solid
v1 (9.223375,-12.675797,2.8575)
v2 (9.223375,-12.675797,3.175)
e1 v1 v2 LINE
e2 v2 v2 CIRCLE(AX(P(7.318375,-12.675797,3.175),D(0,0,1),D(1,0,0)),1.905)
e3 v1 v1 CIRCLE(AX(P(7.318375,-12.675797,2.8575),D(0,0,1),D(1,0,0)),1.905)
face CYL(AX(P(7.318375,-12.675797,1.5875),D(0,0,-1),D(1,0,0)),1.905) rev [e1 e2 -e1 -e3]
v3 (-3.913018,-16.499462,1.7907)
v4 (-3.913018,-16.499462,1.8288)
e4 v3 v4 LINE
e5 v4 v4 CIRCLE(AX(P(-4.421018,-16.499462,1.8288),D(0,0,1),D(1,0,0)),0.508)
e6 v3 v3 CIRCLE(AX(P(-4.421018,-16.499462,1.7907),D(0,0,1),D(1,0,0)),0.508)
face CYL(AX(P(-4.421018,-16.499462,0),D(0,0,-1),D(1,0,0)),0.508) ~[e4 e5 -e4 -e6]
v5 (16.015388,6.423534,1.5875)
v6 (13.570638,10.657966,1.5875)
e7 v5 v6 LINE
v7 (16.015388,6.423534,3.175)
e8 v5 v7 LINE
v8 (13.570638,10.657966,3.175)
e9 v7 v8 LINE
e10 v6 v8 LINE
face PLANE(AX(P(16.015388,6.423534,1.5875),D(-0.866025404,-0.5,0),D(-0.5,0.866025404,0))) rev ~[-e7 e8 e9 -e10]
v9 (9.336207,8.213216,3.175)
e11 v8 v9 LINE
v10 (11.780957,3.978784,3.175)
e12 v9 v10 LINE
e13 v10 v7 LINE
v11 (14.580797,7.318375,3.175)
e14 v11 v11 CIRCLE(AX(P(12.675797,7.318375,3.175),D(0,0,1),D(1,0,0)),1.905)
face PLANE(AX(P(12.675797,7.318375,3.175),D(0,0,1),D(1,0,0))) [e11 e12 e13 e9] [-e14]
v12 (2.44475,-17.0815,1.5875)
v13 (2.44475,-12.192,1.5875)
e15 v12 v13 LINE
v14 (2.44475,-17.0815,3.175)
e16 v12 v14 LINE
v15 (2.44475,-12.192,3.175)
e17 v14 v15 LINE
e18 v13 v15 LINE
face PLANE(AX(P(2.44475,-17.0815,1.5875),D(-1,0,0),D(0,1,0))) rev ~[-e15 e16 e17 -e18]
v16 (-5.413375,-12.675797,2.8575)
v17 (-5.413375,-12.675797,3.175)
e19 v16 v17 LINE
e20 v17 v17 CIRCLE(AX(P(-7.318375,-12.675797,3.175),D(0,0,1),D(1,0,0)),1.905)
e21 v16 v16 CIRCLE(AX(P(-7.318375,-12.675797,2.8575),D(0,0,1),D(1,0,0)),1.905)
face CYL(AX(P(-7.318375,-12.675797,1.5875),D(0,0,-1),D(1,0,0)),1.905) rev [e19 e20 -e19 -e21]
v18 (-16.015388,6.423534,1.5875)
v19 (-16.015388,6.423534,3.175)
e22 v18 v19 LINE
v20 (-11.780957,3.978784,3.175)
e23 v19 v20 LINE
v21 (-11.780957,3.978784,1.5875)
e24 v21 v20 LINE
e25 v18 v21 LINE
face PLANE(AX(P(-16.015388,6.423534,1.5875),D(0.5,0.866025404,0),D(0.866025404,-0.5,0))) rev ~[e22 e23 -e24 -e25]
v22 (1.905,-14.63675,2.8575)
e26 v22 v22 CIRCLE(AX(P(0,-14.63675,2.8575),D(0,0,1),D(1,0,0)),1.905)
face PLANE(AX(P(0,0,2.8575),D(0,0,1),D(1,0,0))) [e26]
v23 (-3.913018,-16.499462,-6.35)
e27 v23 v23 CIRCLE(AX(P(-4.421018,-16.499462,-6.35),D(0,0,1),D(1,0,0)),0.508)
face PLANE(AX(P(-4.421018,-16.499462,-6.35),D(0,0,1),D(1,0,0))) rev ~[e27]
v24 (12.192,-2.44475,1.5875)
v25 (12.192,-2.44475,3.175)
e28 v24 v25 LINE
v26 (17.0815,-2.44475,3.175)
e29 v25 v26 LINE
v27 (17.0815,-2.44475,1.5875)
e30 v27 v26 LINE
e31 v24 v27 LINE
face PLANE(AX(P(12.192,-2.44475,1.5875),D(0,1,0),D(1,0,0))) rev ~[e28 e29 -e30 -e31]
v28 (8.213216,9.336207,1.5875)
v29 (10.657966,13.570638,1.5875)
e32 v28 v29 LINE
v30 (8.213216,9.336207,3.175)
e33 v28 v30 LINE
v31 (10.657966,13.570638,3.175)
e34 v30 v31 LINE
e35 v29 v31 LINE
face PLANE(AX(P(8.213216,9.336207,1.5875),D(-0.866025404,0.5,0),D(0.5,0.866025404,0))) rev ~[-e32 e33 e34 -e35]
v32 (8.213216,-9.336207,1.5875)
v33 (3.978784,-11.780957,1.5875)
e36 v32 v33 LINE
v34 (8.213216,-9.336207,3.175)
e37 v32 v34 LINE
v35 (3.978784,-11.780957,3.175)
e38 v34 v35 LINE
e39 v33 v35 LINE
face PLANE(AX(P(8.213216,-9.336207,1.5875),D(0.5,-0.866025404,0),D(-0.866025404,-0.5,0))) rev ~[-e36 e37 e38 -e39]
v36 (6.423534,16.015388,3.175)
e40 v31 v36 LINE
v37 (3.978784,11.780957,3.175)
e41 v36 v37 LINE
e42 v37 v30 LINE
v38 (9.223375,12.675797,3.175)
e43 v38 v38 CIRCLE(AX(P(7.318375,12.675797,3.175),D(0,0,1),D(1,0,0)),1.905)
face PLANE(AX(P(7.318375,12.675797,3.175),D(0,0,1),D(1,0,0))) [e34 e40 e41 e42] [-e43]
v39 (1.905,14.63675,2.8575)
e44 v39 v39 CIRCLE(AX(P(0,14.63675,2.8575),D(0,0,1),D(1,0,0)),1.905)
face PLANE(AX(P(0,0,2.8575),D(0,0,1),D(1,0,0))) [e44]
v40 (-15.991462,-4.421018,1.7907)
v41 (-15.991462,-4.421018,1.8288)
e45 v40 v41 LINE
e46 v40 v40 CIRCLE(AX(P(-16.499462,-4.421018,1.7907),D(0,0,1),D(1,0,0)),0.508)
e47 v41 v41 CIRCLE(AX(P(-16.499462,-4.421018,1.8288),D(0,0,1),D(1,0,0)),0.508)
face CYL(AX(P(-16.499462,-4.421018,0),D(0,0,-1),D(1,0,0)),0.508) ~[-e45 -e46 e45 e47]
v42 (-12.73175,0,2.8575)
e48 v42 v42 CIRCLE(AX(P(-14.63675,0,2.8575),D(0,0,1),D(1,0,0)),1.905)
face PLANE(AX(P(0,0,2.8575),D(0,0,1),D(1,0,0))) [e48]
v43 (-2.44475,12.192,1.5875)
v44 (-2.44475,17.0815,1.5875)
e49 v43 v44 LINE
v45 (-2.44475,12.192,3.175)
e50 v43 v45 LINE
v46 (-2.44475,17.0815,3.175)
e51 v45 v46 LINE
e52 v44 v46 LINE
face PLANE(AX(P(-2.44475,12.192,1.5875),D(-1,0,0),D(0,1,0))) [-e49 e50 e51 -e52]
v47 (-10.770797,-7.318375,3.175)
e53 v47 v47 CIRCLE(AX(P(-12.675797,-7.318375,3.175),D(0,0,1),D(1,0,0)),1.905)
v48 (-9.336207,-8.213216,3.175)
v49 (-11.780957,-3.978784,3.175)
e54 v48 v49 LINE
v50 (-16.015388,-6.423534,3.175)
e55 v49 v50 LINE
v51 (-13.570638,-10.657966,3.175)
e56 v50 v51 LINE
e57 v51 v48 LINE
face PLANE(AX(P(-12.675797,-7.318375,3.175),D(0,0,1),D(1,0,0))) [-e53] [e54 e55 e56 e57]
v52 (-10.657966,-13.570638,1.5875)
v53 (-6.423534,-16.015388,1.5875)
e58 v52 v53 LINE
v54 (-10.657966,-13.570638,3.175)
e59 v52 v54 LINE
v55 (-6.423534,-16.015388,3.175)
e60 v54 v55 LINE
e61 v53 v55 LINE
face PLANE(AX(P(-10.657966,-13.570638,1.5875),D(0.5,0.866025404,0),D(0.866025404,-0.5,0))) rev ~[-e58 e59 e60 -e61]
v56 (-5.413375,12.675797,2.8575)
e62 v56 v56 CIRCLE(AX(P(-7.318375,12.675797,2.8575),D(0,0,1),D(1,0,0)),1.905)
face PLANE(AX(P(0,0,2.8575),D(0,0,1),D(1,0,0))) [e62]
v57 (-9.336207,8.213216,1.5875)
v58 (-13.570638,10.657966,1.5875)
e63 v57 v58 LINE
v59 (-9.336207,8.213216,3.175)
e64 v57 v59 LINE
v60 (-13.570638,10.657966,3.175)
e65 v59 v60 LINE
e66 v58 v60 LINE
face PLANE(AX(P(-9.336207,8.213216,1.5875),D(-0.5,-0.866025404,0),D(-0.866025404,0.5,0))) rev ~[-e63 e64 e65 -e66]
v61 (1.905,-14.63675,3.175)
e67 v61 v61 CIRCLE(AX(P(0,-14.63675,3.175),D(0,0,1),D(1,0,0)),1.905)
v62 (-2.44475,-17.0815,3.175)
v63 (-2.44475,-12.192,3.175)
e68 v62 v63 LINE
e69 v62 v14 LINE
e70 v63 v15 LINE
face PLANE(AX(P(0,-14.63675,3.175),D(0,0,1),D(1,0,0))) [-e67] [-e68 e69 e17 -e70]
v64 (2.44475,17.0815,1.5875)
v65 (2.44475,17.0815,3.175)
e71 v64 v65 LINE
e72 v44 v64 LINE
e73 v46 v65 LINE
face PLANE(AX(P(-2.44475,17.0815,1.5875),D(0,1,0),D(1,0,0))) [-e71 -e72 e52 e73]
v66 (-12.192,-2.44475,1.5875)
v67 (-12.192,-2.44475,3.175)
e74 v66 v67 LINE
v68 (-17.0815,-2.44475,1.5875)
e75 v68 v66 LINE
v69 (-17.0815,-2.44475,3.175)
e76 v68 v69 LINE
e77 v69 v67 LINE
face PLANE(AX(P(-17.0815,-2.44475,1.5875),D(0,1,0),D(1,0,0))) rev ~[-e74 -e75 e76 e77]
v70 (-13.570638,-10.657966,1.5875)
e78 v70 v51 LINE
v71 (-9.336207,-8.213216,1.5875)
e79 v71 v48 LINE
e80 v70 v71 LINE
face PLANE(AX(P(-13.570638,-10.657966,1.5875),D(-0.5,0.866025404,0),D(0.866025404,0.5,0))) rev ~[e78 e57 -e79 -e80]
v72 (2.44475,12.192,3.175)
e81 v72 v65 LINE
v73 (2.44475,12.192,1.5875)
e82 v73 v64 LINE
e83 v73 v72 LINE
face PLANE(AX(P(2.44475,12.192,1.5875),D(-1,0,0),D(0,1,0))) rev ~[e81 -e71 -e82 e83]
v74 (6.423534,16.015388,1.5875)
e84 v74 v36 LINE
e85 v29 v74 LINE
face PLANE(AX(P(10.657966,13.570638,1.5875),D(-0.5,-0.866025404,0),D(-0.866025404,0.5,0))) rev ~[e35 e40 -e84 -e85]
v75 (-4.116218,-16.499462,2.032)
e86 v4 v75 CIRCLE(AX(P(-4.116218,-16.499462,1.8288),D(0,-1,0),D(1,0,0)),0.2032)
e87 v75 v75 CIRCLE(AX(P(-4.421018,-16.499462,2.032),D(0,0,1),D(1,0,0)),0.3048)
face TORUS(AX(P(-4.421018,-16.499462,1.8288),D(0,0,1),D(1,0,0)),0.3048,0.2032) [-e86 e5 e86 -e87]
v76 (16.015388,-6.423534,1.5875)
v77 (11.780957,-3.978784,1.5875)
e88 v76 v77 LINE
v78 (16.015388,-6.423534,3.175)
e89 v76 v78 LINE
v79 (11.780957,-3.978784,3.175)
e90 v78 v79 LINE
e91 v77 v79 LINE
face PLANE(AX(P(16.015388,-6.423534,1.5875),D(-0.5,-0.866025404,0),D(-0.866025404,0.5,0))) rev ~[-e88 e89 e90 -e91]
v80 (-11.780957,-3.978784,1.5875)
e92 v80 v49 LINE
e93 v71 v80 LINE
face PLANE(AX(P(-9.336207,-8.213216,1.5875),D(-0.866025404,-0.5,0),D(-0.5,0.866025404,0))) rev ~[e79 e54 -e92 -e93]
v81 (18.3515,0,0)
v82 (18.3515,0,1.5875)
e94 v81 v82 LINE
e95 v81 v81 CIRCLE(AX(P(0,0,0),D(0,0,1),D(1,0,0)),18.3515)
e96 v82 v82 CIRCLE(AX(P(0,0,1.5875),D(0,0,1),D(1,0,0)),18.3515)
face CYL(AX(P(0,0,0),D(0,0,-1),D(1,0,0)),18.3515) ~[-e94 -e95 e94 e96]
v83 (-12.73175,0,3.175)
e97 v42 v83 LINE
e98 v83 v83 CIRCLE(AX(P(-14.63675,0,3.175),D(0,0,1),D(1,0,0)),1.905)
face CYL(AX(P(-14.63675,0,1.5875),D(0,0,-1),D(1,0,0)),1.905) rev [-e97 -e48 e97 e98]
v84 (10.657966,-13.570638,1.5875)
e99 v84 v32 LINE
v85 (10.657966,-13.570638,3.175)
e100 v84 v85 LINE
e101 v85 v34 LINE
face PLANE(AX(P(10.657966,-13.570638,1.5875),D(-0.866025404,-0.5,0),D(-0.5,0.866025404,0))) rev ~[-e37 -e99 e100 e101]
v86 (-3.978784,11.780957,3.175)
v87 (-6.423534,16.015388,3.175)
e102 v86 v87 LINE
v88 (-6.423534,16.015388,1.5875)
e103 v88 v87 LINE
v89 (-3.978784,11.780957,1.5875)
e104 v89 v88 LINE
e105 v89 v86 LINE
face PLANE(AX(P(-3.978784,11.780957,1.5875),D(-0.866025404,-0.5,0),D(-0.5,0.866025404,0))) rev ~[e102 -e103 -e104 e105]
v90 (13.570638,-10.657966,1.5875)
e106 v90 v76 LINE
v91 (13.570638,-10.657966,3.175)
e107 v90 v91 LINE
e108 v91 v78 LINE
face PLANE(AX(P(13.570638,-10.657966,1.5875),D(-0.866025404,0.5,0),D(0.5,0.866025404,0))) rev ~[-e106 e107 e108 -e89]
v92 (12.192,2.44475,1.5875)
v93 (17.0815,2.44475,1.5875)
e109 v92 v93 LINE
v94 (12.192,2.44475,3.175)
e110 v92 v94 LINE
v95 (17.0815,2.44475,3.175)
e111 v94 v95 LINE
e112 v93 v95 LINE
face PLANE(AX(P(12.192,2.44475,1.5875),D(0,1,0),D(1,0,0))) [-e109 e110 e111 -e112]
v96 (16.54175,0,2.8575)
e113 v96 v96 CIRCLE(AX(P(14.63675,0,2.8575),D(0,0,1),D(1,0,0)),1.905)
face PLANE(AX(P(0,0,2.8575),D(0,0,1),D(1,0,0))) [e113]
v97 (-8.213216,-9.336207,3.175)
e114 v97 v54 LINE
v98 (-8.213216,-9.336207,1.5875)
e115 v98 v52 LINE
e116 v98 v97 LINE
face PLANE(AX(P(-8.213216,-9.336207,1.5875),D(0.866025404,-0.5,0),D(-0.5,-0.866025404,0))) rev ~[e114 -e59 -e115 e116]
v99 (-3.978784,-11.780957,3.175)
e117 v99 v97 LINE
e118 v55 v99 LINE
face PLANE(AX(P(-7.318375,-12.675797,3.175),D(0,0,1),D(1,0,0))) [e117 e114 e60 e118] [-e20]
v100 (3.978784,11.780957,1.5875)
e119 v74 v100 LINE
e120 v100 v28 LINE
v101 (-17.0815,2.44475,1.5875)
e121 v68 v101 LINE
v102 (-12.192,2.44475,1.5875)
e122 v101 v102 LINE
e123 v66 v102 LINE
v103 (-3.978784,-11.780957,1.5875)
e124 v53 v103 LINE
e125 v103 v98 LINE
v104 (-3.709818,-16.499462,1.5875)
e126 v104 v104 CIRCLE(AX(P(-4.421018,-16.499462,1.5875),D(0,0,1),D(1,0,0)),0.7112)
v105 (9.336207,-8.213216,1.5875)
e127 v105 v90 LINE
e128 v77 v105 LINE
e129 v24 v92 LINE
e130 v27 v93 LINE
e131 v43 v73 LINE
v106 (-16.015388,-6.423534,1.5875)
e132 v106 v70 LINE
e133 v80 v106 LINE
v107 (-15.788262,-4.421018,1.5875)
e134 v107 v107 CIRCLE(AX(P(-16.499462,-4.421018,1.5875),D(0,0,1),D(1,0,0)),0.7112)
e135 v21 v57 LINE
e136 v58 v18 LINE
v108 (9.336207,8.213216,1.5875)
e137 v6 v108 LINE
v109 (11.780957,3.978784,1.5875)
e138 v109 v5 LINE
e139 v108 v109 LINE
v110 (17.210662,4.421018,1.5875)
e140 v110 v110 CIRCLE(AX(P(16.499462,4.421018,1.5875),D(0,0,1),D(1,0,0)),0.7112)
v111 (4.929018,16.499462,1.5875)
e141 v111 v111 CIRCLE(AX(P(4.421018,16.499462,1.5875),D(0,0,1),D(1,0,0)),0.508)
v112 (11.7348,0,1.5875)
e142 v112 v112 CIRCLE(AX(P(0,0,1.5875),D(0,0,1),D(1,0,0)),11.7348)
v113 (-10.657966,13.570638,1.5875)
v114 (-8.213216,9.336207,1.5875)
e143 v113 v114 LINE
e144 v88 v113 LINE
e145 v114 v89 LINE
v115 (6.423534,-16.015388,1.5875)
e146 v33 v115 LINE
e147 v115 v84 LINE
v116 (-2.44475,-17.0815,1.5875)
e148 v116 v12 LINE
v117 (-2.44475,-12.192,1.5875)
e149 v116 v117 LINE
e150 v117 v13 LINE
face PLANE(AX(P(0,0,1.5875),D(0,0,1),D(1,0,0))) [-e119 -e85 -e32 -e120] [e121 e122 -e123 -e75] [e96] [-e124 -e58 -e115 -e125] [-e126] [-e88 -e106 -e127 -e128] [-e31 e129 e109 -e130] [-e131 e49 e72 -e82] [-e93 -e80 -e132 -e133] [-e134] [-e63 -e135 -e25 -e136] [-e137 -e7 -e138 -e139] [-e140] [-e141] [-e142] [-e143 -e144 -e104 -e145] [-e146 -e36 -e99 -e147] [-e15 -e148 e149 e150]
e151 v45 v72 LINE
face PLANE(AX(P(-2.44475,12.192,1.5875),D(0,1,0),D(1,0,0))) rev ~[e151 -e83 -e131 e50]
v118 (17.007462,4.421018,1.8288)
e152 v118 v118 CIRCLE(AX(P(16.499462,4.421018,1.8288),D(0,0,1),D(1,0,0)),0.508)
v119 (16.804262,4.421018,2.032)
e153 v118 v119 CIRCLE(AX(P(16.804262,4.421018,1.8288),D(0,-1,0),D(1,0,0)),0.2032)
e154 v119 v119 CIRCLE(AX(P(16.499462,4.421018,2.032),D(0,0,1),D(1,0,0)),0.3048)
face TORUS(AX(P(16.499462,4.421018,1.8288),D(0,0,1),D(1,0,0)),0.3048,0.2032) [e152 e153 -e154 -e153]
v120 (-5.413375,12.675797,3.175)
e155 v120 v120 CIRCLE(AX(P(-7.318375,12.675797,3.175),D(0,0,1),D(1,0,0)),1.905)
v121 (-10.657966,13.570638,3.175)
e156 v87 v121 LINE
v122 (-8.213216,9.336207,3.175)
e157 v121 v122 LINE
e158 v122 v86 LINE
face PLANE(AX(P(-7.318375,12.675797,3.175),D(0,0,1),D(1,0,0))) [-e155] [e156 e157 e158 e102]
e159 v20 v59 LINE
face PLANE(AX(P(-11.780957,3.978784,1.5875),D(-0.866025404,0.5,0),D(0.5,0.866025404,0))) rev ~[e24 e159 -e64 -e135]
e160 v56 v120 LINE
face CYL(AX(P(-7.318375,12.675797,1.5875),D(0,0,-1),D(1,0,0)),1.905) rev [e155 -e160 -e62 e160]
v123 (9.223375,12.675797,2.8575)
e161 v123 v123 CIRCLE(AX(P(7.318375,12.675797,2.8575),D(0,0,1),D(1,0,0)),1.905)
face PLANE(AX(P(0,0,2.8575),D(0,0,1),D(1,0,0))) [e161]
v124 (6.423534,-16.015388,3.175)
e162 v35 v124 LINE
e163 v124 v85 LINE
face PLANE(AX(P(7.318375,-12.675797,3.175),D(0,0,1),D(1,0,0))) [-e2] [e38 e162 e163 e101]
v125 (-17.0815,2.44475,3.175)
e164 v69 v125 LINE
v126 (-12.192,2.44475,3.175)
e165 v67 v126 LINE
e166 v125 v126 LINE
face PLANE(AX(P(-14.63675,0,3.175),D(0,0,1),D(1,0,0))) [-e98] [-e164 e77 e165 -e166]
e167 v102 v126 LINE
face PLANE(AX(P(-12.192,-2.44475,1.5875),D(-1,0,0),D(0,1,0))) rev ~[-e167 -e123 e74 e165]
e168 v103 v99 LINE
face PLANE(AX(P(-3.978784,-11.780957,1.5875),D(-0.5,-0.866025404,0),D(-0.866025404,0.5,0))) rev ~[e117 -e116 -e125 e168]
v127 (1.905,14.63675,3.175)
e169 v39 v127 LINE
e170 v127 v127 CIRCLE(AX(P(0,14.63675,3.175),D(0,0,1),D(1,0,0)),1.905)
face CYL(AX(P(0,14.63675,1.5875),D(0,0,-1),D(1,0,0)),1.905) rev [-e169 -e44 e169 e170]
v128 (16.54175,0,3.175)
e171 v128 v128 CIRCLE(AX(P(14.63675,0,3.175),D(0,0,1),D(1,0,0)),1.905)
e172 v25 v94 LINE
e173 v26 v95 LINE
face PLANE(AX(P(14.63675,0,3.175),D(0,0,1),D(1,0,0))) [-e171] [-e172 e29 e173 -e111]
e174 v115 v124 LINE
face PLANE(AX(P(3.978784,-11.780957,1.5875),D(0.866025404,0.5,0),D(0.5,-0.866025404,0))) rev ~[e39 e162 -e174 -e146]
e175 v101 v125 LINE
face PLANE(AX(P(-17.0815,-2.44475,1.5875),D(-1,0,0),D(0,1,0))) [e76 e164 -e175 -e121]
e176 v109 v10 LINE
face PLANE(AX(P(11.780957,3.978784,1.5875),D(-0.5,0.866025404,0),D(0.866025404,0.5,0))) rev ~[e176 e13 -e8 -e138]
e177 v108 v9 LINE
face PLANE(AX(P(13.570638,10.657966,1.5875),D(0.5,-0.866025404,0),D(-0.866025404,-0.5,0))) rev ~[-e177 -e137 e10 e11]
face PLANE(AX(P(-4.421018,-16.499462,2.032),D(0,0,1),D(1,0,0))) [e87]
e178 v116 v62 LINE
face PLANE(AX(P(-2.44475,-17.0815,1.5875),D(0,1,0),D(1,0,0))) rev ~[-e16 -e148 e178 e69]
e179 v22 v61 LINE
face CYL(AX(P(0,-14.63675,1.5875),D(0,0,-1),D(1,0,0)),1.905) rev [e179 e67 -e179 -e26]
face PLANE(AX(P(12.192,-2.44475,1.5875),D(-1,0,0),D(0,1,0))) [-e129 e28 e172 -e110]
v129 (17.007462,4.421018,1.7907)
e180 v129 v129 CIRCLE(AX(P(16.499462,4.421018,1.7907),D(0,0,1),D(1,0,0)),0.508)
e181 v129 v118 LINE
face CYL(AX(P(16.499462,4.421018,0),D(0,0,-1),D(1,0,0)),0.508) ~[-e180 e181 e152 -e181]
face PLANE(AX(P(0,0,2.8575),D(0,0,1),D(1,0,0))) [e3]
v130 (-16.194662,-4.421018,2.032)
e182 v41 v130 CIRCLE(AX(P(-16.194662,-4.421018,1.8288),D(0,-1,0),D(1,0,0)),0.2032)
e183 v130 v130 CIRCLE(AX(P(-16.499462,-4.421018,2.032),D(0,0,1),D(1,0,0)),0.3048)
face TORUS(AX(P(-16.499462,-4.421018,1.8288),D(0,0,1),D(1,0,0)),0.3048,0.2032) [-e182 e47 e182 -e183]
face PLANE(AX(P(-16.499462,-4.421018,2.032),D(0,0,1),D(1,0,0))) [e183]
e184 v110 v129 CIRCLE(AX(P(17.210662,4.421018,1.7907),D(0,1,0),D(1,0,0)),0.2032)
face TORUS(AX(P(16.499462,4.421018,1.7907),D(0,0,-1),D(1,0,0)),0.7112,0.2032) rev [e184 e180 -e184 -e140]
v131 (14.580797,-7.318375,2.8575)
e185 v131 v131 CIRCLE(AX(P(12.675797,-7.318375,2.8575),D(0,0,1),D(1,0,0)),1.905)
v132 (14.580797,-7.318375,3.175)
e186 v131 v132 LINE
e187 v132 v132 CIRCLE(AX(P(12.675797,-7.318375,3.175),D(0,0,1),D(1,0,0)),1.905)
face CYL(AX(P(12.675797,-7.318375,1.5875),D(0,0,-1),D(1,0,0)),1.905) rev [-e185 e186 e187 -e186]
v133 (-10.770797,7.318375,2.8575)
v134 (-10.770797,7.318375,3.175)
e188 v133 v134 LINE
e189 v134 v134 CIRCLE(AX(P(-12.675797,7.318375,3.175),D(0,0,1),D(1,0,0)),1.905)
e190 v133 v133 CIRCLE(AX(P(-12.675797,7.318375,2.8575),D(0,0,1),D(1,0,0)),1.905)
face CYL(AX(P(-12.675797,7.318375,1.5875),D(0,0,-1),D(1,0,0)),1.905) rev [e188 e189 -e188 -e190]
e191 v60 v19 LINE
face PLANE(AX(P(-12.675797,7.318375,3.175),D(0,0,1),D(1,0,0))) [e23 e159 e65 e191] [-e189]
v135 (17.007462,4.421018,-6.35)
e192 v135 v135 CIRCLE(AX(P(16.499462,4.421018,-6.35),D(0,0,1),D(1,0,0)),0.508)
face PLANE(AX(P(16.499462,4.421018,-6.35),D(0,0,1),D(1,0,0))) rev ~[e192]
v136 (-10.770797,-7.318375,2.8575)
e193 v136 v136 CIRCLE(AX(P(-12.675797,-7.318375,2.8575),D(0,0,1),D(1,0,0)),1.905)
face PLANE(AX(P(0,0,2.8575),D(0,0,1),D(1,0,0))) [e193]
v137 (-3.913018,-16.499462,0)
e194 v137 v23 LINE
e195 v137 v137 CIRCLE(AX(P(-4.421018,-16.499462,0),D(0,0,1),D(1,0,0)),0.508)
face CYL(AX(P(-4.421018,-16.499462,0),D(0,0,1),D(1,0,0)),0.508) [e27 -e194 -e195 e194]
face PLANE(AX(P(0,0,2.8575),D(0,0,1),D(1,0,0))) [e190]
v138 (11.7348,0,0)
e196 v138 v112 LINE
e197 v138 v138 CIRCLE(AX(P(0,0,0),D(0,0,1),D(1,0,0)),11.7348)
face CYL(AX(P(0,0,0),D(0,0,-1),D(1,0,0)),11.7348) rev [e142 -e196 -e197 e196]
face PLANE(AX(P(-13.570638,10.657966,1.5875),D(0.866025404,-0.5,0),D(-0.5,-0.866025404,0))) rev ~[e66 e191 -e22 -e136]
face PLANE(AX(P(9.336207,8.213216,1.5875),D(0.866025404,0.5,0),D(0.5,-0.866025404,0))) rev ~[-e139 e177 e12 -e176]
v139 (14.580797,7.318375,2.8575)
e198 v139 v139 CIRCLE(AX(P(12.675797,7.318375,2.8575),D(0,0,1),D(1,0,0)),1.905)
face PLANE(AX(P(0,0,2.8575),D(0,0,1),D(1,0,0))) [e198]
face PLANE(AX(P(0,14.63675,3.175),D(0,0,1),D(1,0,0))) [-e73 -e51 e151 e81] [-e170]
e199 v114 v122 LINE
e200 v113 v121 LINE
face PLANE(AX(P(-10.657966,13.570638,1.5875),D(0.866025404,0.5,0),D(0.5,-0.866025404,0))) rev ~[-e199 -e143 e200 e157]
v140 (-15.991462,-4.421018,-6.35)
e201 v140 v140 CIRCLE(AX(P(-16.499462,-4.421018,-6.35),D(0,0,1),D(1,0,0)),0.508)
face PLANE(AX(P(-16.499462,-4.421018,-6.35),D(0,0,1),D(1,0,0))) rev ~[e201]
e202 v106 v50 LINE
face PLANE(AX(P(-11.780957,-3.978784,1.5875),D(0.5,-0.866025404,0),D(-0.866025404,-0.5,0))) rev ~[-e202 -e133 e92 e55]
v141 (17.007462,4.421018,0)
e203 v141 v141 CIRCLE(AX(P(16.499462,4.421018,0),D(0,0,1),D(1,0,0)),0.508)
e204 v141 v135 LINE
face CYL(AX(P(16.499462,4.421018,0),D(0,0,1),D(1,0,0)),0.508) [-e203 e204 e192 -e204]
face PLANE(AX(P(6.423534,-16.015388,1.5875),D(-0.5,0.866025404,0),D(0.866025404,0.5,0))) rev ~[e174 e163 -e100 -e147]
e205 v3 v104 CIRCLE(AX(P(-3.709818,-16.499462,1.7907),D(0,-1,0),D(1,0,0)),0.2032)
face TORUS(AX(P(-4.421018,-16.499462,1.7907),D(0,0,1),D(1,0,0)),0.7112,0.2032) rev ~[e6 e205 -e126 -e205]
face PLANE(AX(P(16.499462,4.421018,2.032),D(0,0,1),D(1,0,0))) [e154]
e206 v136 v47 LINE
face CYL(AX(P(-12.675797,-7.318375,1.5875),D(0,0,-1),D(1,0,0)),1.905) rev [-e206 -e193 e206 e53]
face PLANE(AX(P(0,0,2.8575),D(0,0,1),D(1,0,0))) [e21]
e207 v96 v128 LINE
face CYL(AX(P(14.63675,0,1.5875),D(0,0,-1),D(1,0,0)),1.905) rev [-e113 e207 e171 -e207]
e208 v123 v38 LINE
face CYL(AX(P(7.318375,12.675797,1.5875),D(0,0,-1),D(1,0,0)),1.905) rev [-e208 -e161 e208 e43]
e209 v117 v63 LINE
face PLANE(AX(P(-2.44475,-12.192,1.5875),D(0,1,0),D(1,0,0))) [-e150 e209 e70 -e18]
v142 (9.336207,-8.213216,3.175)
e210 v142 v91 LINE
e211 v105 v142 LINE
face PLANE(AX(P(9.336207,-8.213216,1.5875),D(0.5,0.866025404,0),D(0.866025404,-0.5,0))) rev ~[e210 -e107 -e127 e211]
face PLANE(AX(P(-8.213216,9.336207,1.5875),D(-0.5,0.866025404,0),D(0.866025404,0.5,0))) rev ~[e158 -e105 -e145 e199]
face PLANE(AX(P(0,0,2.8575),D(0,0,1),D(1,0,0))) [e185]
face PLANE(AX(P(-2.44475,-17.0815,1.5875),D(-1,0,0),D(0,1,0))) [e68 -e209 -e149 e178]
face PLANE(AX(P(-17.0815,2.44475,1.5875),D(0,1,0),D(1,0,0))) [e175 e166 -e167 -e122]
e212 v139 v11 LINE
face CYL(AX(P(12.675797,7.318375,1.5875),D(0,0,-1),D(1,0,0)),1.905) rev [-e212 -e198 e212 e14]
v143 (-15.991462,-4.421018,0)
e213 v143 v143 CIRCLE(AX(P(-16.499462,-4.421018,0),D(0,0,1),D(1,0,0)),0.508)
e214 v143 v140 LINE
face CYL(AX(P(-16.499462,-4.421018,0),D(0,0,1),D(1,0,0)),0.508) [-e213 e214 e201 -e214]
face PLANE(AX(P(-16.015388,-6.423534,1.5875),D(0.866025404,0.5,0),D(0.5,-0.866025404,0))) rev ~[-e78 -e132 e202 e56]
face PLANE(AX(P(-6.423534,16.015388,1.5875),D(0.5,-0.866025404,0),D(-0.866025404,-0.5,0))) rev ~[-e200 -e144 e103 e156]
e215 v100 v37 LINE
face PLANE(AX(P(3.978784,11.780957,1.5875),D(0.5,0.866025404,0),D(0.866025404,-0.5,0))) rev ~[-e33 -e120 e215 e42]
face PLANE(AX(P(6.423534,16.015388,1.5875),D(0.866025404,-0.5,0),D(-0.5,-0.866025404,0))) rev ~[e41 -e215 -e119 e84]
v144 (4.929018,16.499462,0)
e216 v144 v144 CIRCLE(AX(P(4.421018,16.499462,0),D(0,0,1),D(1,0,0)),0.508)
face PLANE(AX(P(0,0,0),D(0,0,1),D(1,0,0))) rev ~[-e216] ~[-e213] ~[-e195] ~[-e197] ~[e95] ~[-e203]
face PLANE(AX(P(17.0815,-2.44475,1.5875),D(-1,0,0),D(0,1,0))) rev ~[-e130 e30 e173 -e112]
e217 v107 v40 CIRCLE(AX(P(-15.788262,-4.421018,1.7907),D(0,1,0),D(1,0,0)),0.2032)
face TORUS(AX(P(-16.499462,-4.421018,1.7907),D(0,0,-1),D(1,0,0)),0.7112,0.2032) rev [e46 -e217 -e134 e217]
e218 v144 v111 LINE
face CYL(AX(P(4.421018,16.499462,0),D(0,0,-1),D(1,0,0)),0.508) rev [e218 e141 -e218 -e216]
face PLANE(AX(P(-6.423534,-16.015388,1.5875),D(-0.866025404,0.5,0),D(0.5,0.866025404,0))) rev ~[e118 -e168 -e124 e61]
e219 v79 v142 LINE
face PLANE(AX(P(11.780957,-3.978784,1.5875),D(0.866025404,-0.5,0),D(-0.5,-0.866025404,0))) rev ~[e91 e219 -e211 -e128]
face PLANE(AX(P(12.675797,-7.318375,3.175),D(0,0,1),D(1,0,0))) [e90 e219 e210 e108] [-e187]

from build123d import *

# Parameters (mm, degrees)
F0_R          = 18.3515
F0_R_2        = 0.508
F0_R_3        = 11.7348
F1_DEPTH      = 1.5875
F2_W          = 4.8895
F2_H          = 4.8895
F2_R          = 1.905
F3_DEPTH      = 1.5875
F4_DEPTH      = 1.27
F5_DEPTH      = 6.35
F5_DEPTH_BACK = 2.032
F6_R          = 0.2032


with BuildPart() as f1:
    # F0 (on Top) → F1 (new body)
    with BuildSketch(Plane.XY):
        Circle(F0_R)
        with Locations((-4.4210175189, -16.4994620018)):
            Circle(F0_R_2, mode=Mode.SUBTRACT)
        with Locations((-16.4994620018, -4.4210175189)):
            Circle(F0_R_2, mode=Mode.SUBTRACT)
        Circle(F0_R_3, mode=Mode.SUBTRACT)
        with Locations((16.4994620018, 4.4210175189)):
            Circle(F0_R_2, mode=Mode.SUBTRACT)
        with Locations((4.4210175189, 16.4994620018)):
            Circle(F0_R_2, mode=Mode.SUBTRACT)
    extrude(amount=F1_DEPTH)

    # F2 (on face) → F3 (join)
    with BuildSketch(Plane.XY.offset(1.5875)):
        with Locations((0, 14.63675)):
            Rectangle(F2_W, F2_H)
        with Locations((0, 14.63675)):
            Circle(F2_R, mode=Mode.SUBTRACT)
        Polygon((-6.4235343941, 16.0153879347), (-10.6579656059, 13.5706379347), (-8.2132156059, 9.3362067229), (-3.9787843941, 11.7809567229), align=None)
        with Locations((-7.318375, 12.6757973288)):
            Circle(F2_R, mode=Mode.SUBTRACT)
        Polygon((-13.5706379347, 10.6579656059), (-16.0153879347, 6.4235343941), (-11.7809567229, 3.9787843941), (-9.3362067229, 8.2132156059), align=None)
        with Locations((-12.6757973288, 7.318375)):
            Circle(F2_R, mode=Mode.SUBTRACT)
        with Locations((-14.63675, 0)):
            Rectangle(F2_W, F2_H)
        with Locations((-14.63675, 0)):
            Circle(F2_R, mode=Mode.SUBTRACT)
        Polygon((-16.0153879347, -6.4235343941), (-13.5706379347, -10.6579656059), (-9.3362067229, -8.2132156059), (-11.7809567229, -3.9787843941), align=None)
        with Locations((-12.6757973288, -7.318375)):
            Circle(F2_R, mode=Mode.SUBTRACT)
        Polygon((-10.6579656059, -13.5706379347), (-6.4235343941, -16.0153879347), (-3.9787843941, -11.7809567229), (-8.2132156059, -9.3362067229), align=None)
        with Locations((-7.318375, -12.6757973288)):
            Circle(F2_R, mode=Mode.SUBTRACT)
        with Locations((0, -14.63675)):
            Rectangle(F2_W, F2_H)
        with Locations((0, -14.63675)):
            Circle(F2_R, mode=Mode.SUBTRACT)
        Polygon((6.4235343941, -16.0153879347), (10.6579656059, -13.5706379347), (8.2132156059, -9.3362067229), (3.9787843941, -11.7809567229), align=None)
        with Locations((7.318375, -12.6757973288)):
            Circle(F2_R, mode=Mode.SUBTRACT)
        Polygon((13.5706379347, -10.6579656059), (16.0153879347, -6.4235343941), (11.7809567229, -3.9787843941), (9.3362067229, -8.2132156059), align=None)
        with Locations((12.6757973288, -7.318375)):
            Circle(F2_R, mode=Mode.SUBTRACT)
        with Locations((14.63675, 0)):
            Rectangle(F2_W, F2_H)
        with Locations((14.63675, 0)):
            Circle(F2_R, mode=Mode.SUBTRACT)
        Polygon((16.0153879347, 6.4235343941), (13.5706379347, 10.6579656059), (9.3362067229, 8.2132156059), (11.7809567229, 3.9787843941), align=None)
        with Locations((12.6757973288, 7.318375)):
            Circle(F2_R, mode=Mode.SUBTRACT)
        Polygon((10.6579656059, 13.5706379347), (6.4235343941, 16.0153879347), (3.9787843941, 11.7809567229), (8.2132156059, 9.3362067229), align=None)
        with Locations((7.318375, 12.6757973288)):
            Circle(F2_R, mode=Mode.SUBTRACT)
    extrude(amount=F3_DEPTH)

    # F4 (add): faces of the model
    f4_faces = [f1.faces().sort_by_distance(p)[0] for p in [
        (0, 14.63675, 1.5875),
        (7.318375, 12.6757973288, 1.5875),
        (12.6757973288, 7.318375, 1.5875),
        (14.63675, 0, 1.5875),
        (12.6757973288, -7.318375, 1.5875),
        (7.318375, -12.6757973288, 1.5875),
        (0, -14.63675, 1.5875),
        (-7.318375, -12.6757973288, 1.5875),
        (-12.6757973288, -7.318375, 1.5875),
        (-14.63675, 0, 1.5875),
        (-12.6757973288, 7.318375, 1.5875),
        (-7.318375, 12.6757973288, 1.5875),
    ]]
    extrude(f4_faces, amount=F4_DEPTH)

    # F0 (on Top) → F5 (join, two sides)
    with BuildSketch(Plane.XY) as f5_sk:
        with Locations((-4.4210175189, -16.4994620018)):
            Circle(F0_R_2)
        with Locations((-16.4994620018, -4.4210175189)):
            Circle(F0_R_2)
        with Locations((16.4994620018, 4.4210175189)):
            Circle(F0_R_2)
    extrude(amount=-F5_DEPTH)
    extrude(f5_sk.sketch, amount=F5_DEPTH_BACK)

    # F6
    f6_edges = [f1.edges().sort_by_distance(p)[0] for p in [
        (15.991462, 4.421018, 1.5875),
        (15.991462, 4.421018, 2.032),
        (-17.007462, -4.421018, 2.032),
        (-4.929018, -16.499462, 2.032),
        (-17.007462, -4.421018, 1.5875),
        (-4.929018, -16.499462, 1.5875),
    ]]
    fillet(f6_edges, radius=F6_R)


solid = f1.part
